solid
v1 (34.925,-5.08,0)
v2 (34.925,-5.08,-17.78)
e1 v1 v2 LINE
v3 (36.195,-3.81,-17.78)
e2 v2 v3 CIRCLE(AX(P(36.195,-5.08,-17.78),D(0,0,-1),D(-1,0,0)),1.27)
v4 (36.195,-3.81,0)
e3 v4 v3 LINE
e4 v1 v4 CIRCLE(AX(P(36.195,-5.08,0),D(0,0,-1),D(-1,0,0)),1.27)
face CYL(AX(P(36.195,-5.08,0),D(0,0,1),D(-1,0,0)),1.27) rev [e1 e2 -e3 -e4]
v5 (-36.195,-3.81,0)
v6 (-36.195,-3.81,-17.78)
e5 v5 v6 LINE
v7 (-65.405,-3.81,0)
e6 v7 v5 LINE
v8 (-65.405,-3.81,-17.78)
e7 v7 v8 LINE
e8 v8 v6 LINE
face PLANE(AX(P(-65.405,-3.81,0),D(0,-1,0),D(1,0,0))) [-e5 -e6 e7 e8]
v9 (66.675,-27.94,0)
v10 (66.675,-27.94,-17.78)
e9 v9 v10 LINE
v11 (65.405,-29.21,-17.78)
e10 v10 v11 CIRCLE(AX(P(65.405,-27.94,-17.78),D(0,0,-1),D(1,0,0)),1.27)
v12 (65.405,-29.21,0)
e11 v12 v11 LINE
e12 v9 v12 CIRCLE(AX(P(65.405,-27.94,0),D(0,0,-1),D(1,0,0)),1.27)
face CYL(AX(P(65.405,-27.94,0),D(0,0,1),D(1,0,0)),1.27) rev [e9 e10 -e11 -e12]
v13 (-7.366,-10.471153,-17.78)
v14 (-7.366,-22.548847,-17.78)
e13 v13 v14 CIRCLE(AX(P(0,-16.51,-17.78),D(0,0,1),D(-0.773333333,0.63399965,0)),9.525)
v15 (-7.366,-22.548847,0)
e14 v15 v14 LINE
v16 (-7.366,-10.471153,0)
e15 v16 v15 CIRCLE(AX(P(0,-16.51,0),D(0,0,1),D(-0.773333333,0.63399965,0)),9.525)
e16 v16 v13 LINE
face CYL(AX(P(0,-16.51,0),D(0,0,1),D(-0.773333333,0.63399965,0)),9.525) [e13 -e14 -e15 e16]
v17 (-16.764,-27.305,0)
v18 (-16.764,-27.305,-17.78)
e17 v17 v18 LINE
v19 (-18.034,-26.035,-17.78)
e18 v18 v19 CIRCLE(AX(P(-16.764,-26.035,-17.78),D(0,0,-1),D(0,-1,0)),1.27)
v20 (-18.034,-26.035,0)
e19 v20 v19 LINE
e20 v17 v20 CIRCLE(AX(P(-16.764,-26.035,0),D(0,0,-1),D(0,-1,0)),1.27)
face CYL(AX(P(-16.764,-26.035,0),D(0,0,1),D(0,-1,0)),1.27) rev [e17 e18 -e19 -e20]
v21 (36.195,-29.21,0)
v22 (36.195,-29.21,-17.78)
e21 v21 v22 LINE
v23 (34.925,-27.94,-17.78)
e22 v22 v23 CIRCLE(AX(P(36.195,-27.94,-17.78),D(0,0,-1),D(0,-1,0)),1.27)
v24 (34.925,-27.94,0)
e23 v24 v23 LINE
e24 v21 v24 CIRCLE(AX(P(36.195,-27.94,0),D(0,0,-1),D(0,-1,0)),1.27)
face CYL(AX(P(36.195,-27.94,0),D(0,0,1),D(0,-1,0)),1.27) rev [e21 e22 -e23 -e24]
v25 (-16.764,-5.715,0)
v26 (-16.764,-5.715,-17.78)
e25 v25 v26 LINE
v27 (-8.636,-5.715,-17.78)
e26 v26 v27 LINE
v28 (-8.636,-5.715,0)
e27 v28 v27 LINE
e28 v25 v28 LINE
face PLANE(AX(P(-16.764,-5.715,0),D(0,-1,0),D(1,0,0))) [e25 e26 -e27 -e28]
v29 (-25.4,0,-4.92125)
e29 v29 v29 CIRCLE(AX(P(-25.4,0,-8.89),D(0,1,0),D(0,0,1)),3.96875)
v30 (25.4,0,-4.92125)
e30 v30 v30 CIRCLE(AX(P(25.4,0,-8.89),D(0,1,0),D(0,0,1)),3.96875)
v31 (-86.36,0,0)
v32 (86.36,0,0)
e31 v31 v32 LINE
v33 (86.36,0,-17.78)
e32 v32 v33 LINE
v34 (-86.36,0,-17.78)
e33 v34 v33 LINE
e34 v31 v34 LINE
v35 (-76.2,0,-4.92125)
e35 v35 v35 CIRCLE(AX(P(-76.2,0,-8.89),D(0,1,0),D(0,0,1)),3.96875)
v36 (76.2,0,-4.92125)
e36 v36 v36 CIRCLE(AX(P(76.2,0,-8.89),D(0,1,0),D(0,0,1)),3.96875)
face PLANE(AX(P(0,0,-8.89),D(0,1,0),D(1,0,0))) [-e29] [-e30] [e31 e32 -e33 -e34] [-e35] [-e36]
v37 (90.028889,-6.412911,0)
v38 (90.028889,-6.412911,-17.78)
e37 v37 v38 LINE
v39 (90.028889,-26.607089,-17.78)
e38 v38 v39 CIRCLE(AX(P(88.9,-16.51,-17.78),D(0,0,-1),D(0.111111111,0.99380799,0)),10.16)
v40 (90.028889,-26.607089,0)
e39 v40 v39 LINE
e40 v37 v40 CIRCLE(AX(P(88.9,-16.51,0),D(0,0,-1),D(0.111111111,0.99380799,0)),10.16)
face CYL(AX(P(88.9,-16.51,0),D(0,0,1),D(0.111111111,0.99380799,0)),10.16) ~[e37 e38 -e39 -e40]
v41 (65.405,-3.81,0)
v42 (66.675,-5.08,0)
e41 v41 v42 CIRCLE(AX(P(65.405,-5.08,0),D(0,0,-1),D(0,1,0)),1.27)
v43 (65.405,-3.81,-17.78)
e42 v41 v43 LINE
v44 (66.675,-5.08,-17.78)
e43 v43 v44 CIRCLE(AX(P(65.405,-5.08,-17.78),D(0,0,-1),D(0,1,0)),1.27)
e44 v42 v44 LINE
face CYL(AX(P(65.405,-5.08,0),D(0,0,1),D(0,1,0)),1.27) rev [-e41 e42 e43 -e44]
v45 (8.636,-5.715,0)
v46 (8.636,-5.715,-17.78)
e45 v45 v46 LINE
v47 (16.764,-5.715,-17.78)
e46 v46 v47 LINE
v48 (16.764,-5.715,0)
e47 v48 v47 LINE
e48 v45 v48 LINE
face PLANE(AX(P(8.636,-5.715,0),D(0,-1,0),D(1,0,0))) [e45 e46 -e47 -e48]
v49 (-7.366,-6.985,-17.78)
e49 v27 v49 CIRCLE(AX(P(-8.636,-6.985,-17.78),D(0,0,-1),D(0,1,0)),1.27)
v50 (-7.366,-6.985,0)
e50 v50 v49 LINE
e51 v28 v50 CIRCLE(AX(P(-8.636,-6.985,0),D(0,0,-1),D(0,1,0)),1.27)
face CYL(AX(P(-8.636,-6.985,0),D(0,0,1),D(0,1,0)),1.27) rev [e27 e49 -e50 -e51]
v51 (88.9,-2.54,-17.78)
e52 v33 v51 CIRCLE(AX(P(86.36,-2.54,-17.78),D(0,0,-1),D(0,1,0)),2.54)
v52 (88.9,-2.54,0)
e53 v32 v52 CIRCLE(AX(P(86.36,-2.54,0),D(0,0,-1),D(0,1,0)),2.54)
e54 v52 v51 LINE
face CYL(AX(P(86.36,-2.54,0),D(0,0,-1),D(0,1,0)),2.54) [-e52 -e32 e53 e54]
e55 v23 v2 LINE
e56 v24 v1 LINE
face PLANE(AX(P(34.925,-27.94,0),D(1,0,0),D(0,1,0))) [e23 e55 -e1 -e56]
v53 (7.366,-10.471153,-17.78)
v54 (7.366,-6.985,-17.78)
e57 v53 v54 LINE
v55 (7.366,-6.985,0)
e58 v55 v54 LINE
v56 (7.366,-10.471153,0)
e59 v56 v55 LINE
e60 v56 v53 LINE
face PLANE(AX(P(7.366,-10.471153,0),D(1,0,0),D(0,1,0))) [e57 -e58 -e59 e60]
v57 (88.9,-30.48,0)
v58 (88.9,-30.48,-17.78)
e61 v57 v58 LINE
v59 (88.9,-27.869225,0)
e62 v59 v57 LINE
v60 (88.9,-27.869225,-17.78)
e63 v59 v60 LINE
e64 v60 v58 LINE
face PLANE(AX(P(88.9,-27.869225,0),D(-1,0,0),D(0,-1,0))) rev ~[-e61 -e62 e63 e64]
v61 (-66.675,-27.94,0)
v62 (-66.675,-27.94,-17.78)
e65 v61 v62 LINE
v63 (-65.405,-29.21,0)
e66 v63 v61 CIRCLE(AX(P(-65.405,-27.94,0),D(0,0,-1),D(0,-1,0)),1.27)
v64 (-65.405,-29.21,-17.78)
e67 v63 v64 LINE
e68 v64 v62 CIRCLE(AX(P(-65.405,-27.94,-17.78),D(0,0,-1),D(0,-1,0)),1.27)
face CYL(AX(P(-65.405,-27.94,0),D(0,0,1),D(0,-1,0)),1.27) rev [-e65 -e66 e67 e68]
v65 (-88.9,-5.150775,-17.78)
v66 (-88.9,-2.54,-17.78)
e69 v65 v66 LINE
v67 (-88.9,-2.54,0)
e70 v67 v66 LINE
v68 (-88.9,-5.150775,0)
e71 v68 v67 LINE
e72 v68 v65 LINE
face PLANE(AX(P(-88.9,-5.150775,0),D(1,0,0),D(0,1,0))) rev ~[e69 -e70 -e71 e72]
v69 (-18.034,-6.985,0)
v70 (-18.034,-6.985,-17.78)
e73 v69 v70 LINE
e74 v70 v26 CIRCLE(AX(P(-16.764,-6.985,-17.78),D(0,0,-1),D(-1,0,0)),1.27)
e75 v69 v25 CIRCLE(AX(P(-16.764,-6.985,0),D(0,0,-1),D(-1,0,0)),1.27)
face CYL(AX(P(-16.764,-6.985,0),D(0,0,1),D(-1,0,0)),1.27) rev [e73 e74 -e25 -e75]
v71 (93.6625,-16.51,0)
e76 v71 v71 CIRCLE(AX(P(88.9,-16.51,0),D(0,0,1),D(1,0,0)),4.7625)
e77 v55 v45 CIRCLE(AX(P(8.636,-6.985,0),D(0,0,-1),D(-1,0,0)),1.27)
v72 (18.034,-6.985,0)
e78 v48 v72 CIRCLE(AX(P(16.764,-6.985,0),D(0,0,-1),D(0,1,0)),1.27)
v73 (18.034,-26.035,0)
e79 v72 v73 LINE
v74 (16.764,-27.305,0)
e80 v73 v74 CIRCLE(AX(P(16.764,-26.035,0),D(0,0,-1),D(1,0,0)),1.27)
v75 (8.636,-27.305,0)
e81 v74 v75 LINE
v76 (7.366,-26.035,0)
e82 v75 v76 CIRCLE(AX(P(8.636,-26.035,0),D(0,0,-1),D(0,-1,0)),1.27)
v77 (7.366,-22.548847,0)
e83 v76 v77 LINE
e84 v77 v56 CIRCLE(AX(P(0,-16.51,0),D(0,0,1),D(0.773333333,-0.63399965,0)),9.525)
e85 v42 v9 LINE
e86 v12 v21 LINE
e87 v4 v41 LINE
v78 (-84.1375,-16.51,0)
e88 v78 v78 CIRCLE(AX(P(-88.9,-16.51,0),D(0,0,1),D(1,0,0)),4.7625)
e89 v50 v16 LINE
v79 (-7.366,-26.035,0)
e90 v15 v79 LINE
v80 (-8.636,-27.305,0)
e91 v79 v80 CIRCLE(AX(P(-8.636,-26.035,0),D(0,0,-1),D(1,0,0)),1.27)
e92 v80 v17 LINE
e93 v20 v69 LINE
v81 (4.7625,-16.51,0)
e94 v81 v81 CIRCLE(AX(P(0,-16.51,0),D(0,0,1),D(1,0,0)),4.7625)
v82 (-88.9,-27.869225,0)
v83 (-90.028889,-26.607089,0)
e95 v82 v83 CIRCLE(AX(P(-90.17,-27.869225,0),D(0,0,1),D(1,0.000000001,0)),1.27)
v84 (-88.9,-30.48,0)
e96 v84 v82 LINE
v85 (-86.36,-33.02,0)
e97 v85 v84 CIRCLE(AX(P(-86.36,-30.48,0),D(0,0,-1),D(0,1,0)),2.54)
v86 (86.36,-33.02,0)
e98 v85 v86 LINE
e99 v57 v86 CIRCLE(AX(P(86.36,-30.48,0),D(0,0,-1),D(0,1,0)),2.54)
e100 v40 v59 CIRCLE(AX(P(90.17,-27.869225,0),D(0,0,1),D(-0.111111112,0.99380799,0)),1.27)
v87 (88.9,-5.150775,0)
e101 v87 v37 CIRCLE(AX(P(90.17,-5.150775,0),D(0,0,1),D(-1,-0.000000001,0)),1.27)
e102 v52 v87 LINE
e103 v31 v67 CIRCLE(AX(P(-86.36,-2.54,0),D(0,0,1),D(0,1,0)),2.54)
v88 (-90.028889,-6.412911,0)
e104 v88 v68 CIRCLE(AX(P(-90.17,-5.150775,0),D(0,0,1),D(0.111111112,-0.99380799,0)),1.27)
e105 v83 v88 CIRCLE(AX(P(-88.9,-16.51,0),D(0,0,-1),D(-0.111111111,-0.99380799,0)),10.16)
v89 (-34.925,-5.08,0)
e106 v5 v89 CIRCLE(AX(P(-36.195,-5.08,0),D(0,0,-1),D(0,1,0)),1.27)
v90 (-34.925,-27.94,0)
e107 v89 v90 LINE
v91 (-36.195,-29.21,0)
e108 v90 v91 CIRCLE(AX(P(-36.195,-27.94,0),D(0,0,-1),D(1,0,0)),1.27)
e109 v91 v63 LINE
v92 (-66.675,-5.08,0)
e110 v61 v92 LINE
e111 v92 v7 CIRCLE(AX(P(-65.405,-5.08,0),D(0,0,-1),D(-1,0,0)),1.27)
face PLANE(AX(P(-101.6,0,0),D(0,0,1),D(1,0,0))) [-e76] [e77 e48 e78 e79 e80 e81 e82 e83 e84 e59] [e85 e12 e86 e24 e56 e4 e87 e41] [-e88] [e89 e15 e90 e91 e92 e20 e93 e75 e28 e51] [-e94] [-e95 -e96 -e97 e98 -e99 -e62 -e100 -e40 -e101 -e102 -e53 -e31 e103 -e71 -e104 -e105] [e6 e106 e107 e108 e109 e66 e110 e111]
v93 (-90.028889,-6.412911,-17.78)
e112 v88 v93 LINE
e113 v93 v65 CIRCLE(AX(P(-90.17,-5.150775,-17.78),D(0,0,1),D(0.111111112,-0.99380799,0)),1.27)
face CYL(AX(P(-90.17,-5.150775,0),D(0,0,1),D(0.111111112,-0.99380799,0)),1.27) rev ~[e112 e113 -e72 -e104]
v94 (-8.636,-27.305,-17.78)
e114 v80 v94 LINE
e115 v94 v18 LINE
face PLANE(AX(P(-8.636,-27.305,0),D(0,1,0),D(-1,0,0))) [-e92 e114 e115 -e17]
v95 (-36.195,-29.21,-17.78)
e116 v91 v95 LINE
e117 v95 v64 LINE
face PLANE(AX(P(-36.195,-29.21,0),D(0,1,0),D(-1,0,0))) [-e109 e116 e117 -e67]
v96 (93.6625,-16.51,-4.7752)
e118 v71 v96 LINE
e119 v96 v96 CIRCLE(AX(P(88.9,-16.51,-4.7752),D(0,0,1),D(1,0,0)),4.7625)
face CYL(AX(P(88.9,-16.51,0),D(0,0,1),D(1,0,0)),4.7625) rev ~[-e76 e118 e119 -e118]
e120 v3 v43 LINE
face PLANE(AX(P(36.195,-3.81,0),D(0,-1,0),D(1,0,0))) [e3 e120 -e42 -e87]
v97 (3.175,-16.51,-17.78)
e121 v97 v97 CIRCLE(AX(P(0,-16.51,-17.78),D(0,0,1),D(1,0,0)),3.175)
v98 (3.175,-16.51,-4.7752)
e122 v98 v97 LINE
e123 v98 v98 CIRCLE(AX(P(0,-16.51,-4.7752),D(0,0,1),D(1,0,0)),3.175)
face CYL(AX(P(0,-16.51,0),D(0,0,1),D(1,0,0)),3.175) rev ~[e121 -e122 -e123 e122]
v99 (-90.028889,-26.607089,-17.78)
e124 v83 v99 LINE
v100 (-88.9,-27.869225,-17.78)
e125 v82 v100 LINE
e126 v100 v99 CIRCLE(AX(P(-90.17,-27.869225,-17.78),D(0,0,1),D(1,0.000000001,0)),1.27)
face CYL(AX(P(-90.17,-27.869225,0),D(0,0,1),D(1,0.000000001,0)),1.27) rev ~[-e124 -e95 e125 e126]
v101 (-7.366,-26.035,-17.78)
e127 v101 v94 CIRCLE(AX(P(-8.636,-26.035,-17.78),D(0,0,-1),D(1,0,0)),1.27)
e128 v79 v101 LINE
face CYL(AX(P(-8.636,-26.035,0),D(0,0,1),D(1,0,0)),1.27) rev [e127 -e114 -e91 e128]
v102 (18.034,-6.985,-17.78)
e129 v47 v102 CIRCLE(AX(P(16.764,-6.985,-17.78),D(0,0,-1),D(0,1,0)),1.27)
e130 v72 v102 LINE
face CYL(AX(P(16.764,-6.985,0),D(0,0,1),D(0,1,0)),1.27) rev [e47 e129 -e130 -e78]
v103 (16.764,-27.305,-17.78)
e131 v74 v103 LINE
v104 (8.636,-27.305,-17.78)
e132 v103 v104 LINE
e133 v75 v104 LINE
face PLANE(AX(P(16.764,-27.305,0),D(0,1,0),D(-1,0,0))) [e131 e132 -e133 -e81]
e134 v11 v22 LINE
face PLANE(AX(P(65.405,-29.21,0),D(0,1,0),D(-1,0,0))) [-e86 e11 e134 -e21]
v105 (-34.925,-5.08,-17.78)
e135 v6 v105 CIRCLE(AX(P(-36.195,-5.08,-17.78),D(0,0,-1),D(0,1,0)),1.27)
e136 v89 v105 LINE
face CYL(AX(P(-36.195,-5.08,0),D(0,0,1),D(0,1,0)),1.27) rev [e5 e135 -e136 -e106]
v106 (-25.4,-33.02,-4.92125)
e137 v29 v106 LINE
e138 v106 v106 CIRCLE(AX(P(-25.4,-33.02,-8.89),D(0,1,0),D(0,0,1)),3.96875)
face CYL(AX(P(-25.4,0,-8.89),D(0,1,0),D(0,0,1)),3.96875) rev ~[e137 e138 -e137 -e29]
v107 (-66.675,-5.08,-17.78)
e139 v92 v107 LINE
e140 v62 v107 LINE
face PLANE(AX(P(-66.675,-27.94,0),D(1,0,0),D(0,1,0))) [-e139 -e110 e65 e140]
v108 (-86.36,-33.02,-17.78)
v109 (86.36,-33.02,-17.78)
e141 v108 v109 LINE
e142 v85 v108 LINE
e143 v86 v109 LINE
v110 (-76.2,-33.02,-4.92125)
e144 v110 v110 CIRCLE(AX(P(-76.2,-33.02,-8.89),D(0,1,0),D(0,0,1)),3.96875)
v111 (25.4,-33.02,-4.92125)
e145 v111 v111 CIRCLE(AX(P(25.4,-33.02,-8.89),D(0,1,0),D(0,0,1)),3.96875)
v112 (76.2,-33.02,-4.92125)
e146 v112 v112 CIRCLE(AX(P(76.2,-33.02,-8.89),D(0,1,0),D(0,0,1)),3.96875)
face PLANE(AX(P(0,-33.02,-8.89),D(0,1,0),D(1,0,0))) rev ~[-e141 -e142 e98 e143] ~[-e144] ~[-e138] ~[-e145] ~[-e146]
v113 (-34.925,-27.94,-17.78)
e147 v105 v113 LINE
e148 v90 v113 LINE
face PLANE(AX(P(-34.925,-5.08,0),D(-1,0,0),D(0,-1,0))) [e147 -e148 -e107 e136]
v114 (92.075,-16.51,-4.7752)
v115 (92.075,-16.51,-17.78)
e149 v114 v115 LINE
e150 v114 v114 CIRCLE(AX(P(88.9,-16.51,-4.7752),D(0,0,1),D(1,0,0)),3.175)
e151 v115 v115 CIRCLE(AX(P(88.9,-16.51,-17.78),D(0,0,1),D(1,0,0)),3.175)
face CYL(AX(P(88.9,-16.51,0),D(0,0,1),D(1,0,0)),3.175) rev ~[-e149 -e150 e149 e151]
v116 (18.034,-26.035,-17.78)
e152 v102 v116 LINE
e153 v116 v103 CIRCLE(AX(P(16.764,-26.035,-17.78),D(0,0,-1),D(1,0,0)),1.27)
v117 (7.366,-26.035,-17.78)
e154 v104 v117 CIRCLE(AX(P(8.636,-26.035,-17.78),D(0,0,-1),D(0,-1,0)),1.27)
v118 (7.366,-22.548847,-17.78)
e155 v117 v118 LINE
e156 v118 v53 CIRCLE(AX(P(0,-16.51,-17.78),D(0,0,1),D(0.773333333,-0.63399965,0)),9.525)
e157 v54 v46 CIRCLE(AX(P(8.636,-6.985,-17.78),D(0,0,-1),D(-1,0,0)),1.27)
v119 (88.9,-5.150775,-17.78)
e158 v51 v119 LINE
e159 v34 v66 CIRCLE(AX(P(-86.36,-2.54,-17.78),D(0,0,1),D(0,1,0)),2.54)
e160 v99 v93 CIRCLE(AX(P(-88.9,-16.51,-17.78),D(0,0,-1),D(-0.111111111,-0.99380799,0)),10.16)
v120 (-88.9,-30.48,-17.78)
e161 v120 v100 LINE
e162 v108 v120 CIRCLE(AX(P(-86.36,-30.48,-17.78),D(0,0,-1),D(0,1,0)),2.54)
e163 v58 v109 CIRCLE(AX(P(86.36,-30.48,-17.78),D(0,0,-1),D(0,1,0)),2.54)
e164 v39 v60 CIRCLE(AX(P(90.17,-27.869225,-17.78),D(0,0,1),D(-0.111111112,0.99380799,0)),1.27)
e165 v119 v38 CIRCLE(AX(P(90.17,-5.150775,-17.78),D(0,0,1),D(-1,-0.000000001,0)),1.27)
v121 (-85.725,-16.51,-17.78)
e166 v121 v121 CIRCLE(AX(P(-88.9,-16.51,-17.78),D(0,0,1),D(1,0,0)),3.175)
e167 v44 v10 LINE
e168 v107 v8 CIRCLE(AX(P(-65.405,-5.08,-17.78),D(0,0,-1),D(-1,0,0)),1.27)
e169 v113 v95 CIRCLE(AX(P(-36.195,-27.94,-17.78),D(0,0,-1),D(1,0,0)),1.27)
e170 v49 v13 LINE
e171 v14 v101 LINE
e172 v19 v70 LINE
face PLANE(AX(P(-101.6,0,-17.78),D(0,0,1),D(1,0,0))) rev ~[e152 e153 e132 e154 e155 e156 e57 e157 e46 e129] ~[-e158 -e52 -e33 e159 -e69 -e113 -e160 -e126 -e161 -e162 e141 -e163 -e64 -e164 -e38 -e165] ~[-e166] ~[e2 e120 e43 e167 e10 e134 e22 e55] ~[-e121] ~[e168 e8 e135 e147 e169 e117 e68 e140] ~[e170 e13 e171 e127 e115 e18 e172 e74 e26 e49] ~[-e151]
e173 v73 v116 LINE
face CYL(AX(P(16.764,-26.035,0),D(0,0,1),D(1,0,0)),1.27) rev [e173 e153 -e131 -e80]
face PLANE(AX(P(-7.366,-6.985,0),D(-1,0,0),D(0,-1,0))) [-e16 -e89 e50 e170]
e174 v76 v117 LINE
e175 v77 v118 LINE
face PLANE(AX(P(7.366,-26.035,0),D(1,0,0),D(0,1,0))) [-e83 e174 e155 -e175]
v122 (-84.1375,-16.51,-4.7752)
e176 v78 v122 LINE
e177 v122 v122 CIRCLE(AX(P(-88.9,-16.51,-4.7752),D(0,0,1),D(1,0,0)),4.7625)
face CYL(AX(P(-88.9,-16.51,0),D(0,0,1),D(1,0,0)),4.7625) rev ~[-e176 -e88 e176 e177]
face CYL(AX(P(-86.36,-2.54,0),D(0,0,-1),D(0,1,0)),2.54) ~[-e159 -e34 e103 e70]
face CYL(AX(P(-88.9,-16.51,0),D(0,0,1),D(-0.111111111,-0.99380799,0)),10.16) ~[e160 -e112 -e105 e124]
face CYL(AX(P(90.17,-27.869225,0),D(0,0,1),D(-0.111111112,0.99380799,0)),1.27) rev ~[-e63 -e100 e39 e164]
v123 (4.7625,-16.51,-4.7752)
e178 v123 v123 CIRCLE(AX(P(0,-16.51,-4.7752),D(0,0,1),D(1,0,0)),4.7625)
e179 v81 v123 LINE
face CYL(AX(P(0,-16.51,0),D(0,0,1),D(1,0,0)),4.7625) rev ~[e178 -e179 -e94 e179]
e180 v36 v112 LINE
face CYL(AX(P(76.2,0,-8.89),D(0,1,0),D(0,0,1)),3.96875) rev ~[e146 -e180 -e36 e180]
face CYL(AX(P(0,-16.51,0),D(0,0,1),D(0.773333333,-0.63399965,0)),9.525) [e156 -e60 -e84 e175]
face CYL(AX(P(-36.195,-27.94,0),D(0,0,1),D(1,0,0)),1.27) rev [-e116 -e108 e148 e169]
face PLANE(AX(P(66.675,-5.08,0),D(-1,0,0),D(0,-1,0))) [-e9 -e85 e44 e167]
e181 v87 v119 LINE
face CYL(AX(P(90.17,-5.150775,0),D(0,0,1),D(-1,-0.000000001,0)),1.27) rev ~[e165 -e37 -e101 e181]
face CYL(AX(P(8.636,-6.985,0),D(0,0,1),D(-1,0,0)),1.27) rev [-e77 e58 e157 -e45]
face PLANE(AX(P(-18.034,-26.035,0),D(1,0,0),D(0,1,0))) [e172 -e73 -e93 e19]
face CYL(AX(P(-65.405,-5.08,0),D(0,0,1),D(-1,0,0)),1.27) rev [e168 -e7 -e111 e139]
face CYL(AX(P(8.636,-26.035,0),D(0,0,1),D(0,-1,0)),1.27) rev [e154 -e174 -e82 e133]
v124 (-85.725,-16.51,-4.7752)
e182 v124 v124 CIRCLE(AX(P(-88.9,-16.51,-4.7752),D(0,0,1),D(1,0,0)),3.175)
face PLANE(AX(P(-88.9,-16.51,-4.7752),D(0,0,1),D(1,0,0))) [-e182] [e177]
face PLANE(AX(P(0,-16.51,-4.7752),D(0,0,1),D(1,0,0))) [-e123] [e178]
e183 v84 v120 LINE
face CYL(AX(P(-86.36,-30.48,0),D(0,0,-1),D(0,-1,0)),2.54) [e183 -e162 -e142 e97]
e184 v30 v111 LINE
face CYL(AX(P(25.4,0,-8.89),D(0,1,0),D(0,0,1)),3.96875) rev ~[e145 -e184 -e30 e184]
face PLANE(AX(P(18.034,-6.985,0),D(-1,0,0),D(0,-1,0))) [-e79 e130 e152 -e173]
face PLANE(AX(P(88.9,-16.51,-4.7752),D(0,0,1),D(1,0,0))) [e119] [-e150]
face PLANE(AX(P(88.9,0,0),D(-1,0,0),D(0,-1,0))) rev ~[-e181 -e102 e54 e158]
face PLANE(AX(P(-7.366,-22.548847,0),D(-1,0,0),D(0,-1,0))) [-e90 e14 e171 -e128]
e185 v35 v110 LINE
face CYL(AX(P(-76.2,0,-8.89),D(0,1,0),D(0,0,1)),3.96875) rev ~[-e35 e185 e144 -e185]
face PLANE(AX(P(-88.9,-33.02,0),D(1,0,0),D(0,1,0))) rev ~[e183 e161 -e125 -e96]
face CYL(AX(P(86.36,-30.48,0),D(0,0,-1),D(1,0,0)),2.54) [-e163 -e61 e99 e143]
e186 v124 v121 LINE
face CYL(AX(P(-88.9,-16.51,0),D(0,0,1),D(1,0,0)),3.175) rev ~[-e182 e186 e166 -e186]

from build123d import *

# Parameters (mm, degrees)
SKETCH1_W           = 203.2
SKETCH1_H           = 17.78
SKETCH1_R           = 3.96875
BOSS_EXTRUDE1_DEPTH = 33.02
SKETCH2_R           = 3.175
CUT_EXTRUDE1_DEPTH  = 17.78
SKETCH3_R           = 4.7625
CUT_EXTRUDE2_DEPTH  = 4.7752
CUT_EXTRUDE3_DEPTH  = 17.78
CUT_EXTRUDE4_DEPTH  = 17.78
FILLET1_R           = 2.54


with BuildPart() as part:
    # Sketch1 → Boss-Extrude1 (new body)
    with BuildSketch(Plane(origin=(0, 0, 0), x_dir=(1, 0, 0), z_dir=(0, 1, 0))):
        with Locations((0, 8.89)):
            Rectangle(SKETCH1_W, SKETCH1_H)
        with Locations(Location((76.2, 8.89, 0), (0, 0, 270))):
            Circle(SKETCH1_R, mode=Mode.SUBTRACT)
        with Locations(Location((25.4, 8.89, 0), (0, 0, 270))):
            Circle(SKETCH1_R, mode=Mode.SUBTRACT)
        with Locations(Location((-25.4, 8.89, 0), (0, 0, 270))):
            Circle(SKETCH1_R, mode=Mode.SUBTRACT)
        with Locations(Location((-76.2, 8.89, 0), (0, 0, 270))):
            Circle(SKETCH1_R, mode=Mode.SUBTRACT)
    extrude(amount=-BOSS_EXTRUDE1_DEPTH)

    # Sketch2 → Cut-Extrude1 (cut)
    with BuildSketch(Plane.XY):
        with Locations((88.9, -16.51)):
            Circle(SKETCH2_R)
        with Locations((0, -16.51)):
            Circle(SKETCH2_R)
        with Locations((-88.9, -16.51)):
            Circle(SKETCH2_R)
    extrude(amount=-CUT_EXTRUDE1_DEPTH, mode=Mode.SUBTRACT)

    # Sketch3 → Cut-Extrude2 (cut)
    with BuildSketch(Plane.XY):
        with Locations((88.9, -16.51)):
            Circle(SKETCH3_R)
        with Locations((0, -16.51)):
            Circle(SKETCH3_R)
        with Locations((-88.9, -16.51)):
            Circle(SKETCH3_R)
    extrude(amount=-CUT_EXTRUDE2_DEPTH, mode=Mode.SUBTRACT)

    # Sketch4 → Cut-Extrude3 (cut)
    with BuildSketch(Plane.XY):
        with BuildLine():
            Line((-36.195, -29.21), (-65.405, -29.21))
            ThreePointArc((-65.405, -29.21), (-66.303025612, -28.838025612), (-66.675, -27.94))
            Line((-66.675, -27.94), (-66.675, -5.08))
            ThreePointArc((-66.675, -5.08), (-66.303025612, -4.181974388), (-65.405, -3.81))
            Line((-65.405, -3.81), (-36.195, -3.81))
            ThreePointArc((-36.195, -3.81), (-35.296974388, -4.181974388), (-34.925, -5.08))
            Line((-34.925, -5.08), (-34.925, -27.94))
            ThreePointArc((-34.925, -27.94), (-35.296974388, -28.838025612), (-36.195, -29.21))
        make_face()
        with BuildLine():
            Line((-8.636, -27.305), (-16.764, -27.305))
            ThreePointArc((-16.764, -27.305), (-17.662025612, -26.933025612), (-18.034, -26.035))
            Line((-18.034, -26.035), (-18.034, -6.985))
            ThreePointArc((-18.034, -6.985), (-17.662025612, -6.086974388), (-16.764, -5.715))
            Line((-16.764, -5.715), (-8.636, -5.715))
            ThreePointArc((-8.636, -5.715), (-7.737974388, -6.086974388), (-7.366, -6.985))
            Line((-7.366, -6.985), (-7.366, -10.471153339))
            ThreePointArc((-7.366, -10.471153339), (-9.525, -16.51), (-7.366, -22.548846661))
            Line((-7.366, -22.548846661), (-7.366, -26.035))
            ThreePointArc((-7.366, -26.035), (-7.737974388, -26.933025612), (-8.636, -27.305))
        make_face()
        with BuildLine():
            Line((36.195, -3.81), (65.405, -3.81))
            ThreePointArc((65.405, -3.81), (66.303025612, -4.181974388), (66.675, -5.08))
            Line((66.675, -5.08), (66.675, -27.94))
            ThreePointArc((66.675, -27.94), (66.303025612, -28.838025612), (65.405, -29.21))
            Line((65.405, -29.21), (36.195, -29.21))
            ThreePointArc((36.195, -29.21), (35.296974388, -28.838025612), (34.925, -27.94))
            Line((34.925, -27.94), (34.925, -5.08))
            ThreePointArc((34.925, -5.08), (35.296974388, -4.181974388), (36.195, -3.81))
        make_face()
        with BuildLine():
            Line((7.366, -26.035), (7.366, -22.548846661))
            ThreePointArc((7.366, -22.548846661), (9.525, -16.51), (7.366, -10.471153339))
            Line((7.366, -10.471153339), (7.366, -6.985))
            ThreePointArc((7.366, -6.985), (7.737974388, -6.086974388), (8.636, -5.715))
            Line((8.636, -5.715), (16.764, -5.715))
            ThreePointArc((16.764, -5.715), (17.662025612, -6.086974388), (18.034, -6.985))
            Line((18.034, -6.985), (18.034, -26.035))
            ThreePointArc((18.034, -26.035), (17.662025612, -26.933025612), (16.764, -27.305))
            Line((16.764, -27.305), (8.636, -27.305))
            ThreePointArc((8.636, -27.305), (7.737974388, -26.933025612), (7.366, -26.035))
        make_face()
    extrude(amount=-CUT_EXTRUDE3_DEPTH, mode=Mode.SUBTRACT)

    # Sketch5 → Cut-Extrude4 (cut)
    with BuildSketch(Plane.XY):
        with BuildLine():
            Line((88.9, -27.869225326), (88.9, -33.02))
            Line((88.9, -33.02), (101.6, -33.02))
            Line((101.6, -33.02), (101.6, 0))
            Line((101.6, 0), (88.9, 0))
            Line((88.9, 0), (88.9, -5.150774674))
            ThreePointArc((88.9, -5.150774674), (89.22339789, -5.997441341), (90.028888889, -6.412910822))
            ThreePointArc((90.028888889, -6.412910822), (99.06, -16.51), (90.028888889, -26.607089178))
            ThreePointArc((90.028888889, -26.607089178), (89.22339789, -27.022558659), (88.9, -27.869225326))
        make_face()
        with BuildLine():
            Line((-88.9, -5.150774674), (-88.9, 0))
            Line((-88.9, 0), (-101.6, 0))
            Line((-101.6, 0), (-101.6, -33.02))
            Line((-101.6, -33.02), (-88.9, -33.02))
            Line((-88.9, -33.02), (-88.9, -27.869225326))
            ThreePointArc((-88.9, -27.869225326), (-89.22339789, -27.022558659), (-90.028888889, -26.607089178))
            ThreePointArc((-90.028888889, -26.607089178), (-99.06, -16.51), (-90.028888889, -6.412910822))
            ThreePointArc((-90.028888889, -6.412910822), (-89.22339789, -5.997441341), (-88.9, -5.150774674))
        make_face()
    extrude(amount=-CUT_EXTRUDE4_DEPTH, mode=Mode.SUBTRACT)

    # Fillet1
    fillet1_edges = [part.edges().sort_by_distance(p)[0] for p in [
        (88.9, 0, -8.89),
        (88.9, -33.02, -8.89),
        (-88.9, 0, -8.89),
        (-88.9, -33.02, -8.89),
    ]]
    fillet(fillet1_edges, radius=FILLET1_R)


solid = part.part
